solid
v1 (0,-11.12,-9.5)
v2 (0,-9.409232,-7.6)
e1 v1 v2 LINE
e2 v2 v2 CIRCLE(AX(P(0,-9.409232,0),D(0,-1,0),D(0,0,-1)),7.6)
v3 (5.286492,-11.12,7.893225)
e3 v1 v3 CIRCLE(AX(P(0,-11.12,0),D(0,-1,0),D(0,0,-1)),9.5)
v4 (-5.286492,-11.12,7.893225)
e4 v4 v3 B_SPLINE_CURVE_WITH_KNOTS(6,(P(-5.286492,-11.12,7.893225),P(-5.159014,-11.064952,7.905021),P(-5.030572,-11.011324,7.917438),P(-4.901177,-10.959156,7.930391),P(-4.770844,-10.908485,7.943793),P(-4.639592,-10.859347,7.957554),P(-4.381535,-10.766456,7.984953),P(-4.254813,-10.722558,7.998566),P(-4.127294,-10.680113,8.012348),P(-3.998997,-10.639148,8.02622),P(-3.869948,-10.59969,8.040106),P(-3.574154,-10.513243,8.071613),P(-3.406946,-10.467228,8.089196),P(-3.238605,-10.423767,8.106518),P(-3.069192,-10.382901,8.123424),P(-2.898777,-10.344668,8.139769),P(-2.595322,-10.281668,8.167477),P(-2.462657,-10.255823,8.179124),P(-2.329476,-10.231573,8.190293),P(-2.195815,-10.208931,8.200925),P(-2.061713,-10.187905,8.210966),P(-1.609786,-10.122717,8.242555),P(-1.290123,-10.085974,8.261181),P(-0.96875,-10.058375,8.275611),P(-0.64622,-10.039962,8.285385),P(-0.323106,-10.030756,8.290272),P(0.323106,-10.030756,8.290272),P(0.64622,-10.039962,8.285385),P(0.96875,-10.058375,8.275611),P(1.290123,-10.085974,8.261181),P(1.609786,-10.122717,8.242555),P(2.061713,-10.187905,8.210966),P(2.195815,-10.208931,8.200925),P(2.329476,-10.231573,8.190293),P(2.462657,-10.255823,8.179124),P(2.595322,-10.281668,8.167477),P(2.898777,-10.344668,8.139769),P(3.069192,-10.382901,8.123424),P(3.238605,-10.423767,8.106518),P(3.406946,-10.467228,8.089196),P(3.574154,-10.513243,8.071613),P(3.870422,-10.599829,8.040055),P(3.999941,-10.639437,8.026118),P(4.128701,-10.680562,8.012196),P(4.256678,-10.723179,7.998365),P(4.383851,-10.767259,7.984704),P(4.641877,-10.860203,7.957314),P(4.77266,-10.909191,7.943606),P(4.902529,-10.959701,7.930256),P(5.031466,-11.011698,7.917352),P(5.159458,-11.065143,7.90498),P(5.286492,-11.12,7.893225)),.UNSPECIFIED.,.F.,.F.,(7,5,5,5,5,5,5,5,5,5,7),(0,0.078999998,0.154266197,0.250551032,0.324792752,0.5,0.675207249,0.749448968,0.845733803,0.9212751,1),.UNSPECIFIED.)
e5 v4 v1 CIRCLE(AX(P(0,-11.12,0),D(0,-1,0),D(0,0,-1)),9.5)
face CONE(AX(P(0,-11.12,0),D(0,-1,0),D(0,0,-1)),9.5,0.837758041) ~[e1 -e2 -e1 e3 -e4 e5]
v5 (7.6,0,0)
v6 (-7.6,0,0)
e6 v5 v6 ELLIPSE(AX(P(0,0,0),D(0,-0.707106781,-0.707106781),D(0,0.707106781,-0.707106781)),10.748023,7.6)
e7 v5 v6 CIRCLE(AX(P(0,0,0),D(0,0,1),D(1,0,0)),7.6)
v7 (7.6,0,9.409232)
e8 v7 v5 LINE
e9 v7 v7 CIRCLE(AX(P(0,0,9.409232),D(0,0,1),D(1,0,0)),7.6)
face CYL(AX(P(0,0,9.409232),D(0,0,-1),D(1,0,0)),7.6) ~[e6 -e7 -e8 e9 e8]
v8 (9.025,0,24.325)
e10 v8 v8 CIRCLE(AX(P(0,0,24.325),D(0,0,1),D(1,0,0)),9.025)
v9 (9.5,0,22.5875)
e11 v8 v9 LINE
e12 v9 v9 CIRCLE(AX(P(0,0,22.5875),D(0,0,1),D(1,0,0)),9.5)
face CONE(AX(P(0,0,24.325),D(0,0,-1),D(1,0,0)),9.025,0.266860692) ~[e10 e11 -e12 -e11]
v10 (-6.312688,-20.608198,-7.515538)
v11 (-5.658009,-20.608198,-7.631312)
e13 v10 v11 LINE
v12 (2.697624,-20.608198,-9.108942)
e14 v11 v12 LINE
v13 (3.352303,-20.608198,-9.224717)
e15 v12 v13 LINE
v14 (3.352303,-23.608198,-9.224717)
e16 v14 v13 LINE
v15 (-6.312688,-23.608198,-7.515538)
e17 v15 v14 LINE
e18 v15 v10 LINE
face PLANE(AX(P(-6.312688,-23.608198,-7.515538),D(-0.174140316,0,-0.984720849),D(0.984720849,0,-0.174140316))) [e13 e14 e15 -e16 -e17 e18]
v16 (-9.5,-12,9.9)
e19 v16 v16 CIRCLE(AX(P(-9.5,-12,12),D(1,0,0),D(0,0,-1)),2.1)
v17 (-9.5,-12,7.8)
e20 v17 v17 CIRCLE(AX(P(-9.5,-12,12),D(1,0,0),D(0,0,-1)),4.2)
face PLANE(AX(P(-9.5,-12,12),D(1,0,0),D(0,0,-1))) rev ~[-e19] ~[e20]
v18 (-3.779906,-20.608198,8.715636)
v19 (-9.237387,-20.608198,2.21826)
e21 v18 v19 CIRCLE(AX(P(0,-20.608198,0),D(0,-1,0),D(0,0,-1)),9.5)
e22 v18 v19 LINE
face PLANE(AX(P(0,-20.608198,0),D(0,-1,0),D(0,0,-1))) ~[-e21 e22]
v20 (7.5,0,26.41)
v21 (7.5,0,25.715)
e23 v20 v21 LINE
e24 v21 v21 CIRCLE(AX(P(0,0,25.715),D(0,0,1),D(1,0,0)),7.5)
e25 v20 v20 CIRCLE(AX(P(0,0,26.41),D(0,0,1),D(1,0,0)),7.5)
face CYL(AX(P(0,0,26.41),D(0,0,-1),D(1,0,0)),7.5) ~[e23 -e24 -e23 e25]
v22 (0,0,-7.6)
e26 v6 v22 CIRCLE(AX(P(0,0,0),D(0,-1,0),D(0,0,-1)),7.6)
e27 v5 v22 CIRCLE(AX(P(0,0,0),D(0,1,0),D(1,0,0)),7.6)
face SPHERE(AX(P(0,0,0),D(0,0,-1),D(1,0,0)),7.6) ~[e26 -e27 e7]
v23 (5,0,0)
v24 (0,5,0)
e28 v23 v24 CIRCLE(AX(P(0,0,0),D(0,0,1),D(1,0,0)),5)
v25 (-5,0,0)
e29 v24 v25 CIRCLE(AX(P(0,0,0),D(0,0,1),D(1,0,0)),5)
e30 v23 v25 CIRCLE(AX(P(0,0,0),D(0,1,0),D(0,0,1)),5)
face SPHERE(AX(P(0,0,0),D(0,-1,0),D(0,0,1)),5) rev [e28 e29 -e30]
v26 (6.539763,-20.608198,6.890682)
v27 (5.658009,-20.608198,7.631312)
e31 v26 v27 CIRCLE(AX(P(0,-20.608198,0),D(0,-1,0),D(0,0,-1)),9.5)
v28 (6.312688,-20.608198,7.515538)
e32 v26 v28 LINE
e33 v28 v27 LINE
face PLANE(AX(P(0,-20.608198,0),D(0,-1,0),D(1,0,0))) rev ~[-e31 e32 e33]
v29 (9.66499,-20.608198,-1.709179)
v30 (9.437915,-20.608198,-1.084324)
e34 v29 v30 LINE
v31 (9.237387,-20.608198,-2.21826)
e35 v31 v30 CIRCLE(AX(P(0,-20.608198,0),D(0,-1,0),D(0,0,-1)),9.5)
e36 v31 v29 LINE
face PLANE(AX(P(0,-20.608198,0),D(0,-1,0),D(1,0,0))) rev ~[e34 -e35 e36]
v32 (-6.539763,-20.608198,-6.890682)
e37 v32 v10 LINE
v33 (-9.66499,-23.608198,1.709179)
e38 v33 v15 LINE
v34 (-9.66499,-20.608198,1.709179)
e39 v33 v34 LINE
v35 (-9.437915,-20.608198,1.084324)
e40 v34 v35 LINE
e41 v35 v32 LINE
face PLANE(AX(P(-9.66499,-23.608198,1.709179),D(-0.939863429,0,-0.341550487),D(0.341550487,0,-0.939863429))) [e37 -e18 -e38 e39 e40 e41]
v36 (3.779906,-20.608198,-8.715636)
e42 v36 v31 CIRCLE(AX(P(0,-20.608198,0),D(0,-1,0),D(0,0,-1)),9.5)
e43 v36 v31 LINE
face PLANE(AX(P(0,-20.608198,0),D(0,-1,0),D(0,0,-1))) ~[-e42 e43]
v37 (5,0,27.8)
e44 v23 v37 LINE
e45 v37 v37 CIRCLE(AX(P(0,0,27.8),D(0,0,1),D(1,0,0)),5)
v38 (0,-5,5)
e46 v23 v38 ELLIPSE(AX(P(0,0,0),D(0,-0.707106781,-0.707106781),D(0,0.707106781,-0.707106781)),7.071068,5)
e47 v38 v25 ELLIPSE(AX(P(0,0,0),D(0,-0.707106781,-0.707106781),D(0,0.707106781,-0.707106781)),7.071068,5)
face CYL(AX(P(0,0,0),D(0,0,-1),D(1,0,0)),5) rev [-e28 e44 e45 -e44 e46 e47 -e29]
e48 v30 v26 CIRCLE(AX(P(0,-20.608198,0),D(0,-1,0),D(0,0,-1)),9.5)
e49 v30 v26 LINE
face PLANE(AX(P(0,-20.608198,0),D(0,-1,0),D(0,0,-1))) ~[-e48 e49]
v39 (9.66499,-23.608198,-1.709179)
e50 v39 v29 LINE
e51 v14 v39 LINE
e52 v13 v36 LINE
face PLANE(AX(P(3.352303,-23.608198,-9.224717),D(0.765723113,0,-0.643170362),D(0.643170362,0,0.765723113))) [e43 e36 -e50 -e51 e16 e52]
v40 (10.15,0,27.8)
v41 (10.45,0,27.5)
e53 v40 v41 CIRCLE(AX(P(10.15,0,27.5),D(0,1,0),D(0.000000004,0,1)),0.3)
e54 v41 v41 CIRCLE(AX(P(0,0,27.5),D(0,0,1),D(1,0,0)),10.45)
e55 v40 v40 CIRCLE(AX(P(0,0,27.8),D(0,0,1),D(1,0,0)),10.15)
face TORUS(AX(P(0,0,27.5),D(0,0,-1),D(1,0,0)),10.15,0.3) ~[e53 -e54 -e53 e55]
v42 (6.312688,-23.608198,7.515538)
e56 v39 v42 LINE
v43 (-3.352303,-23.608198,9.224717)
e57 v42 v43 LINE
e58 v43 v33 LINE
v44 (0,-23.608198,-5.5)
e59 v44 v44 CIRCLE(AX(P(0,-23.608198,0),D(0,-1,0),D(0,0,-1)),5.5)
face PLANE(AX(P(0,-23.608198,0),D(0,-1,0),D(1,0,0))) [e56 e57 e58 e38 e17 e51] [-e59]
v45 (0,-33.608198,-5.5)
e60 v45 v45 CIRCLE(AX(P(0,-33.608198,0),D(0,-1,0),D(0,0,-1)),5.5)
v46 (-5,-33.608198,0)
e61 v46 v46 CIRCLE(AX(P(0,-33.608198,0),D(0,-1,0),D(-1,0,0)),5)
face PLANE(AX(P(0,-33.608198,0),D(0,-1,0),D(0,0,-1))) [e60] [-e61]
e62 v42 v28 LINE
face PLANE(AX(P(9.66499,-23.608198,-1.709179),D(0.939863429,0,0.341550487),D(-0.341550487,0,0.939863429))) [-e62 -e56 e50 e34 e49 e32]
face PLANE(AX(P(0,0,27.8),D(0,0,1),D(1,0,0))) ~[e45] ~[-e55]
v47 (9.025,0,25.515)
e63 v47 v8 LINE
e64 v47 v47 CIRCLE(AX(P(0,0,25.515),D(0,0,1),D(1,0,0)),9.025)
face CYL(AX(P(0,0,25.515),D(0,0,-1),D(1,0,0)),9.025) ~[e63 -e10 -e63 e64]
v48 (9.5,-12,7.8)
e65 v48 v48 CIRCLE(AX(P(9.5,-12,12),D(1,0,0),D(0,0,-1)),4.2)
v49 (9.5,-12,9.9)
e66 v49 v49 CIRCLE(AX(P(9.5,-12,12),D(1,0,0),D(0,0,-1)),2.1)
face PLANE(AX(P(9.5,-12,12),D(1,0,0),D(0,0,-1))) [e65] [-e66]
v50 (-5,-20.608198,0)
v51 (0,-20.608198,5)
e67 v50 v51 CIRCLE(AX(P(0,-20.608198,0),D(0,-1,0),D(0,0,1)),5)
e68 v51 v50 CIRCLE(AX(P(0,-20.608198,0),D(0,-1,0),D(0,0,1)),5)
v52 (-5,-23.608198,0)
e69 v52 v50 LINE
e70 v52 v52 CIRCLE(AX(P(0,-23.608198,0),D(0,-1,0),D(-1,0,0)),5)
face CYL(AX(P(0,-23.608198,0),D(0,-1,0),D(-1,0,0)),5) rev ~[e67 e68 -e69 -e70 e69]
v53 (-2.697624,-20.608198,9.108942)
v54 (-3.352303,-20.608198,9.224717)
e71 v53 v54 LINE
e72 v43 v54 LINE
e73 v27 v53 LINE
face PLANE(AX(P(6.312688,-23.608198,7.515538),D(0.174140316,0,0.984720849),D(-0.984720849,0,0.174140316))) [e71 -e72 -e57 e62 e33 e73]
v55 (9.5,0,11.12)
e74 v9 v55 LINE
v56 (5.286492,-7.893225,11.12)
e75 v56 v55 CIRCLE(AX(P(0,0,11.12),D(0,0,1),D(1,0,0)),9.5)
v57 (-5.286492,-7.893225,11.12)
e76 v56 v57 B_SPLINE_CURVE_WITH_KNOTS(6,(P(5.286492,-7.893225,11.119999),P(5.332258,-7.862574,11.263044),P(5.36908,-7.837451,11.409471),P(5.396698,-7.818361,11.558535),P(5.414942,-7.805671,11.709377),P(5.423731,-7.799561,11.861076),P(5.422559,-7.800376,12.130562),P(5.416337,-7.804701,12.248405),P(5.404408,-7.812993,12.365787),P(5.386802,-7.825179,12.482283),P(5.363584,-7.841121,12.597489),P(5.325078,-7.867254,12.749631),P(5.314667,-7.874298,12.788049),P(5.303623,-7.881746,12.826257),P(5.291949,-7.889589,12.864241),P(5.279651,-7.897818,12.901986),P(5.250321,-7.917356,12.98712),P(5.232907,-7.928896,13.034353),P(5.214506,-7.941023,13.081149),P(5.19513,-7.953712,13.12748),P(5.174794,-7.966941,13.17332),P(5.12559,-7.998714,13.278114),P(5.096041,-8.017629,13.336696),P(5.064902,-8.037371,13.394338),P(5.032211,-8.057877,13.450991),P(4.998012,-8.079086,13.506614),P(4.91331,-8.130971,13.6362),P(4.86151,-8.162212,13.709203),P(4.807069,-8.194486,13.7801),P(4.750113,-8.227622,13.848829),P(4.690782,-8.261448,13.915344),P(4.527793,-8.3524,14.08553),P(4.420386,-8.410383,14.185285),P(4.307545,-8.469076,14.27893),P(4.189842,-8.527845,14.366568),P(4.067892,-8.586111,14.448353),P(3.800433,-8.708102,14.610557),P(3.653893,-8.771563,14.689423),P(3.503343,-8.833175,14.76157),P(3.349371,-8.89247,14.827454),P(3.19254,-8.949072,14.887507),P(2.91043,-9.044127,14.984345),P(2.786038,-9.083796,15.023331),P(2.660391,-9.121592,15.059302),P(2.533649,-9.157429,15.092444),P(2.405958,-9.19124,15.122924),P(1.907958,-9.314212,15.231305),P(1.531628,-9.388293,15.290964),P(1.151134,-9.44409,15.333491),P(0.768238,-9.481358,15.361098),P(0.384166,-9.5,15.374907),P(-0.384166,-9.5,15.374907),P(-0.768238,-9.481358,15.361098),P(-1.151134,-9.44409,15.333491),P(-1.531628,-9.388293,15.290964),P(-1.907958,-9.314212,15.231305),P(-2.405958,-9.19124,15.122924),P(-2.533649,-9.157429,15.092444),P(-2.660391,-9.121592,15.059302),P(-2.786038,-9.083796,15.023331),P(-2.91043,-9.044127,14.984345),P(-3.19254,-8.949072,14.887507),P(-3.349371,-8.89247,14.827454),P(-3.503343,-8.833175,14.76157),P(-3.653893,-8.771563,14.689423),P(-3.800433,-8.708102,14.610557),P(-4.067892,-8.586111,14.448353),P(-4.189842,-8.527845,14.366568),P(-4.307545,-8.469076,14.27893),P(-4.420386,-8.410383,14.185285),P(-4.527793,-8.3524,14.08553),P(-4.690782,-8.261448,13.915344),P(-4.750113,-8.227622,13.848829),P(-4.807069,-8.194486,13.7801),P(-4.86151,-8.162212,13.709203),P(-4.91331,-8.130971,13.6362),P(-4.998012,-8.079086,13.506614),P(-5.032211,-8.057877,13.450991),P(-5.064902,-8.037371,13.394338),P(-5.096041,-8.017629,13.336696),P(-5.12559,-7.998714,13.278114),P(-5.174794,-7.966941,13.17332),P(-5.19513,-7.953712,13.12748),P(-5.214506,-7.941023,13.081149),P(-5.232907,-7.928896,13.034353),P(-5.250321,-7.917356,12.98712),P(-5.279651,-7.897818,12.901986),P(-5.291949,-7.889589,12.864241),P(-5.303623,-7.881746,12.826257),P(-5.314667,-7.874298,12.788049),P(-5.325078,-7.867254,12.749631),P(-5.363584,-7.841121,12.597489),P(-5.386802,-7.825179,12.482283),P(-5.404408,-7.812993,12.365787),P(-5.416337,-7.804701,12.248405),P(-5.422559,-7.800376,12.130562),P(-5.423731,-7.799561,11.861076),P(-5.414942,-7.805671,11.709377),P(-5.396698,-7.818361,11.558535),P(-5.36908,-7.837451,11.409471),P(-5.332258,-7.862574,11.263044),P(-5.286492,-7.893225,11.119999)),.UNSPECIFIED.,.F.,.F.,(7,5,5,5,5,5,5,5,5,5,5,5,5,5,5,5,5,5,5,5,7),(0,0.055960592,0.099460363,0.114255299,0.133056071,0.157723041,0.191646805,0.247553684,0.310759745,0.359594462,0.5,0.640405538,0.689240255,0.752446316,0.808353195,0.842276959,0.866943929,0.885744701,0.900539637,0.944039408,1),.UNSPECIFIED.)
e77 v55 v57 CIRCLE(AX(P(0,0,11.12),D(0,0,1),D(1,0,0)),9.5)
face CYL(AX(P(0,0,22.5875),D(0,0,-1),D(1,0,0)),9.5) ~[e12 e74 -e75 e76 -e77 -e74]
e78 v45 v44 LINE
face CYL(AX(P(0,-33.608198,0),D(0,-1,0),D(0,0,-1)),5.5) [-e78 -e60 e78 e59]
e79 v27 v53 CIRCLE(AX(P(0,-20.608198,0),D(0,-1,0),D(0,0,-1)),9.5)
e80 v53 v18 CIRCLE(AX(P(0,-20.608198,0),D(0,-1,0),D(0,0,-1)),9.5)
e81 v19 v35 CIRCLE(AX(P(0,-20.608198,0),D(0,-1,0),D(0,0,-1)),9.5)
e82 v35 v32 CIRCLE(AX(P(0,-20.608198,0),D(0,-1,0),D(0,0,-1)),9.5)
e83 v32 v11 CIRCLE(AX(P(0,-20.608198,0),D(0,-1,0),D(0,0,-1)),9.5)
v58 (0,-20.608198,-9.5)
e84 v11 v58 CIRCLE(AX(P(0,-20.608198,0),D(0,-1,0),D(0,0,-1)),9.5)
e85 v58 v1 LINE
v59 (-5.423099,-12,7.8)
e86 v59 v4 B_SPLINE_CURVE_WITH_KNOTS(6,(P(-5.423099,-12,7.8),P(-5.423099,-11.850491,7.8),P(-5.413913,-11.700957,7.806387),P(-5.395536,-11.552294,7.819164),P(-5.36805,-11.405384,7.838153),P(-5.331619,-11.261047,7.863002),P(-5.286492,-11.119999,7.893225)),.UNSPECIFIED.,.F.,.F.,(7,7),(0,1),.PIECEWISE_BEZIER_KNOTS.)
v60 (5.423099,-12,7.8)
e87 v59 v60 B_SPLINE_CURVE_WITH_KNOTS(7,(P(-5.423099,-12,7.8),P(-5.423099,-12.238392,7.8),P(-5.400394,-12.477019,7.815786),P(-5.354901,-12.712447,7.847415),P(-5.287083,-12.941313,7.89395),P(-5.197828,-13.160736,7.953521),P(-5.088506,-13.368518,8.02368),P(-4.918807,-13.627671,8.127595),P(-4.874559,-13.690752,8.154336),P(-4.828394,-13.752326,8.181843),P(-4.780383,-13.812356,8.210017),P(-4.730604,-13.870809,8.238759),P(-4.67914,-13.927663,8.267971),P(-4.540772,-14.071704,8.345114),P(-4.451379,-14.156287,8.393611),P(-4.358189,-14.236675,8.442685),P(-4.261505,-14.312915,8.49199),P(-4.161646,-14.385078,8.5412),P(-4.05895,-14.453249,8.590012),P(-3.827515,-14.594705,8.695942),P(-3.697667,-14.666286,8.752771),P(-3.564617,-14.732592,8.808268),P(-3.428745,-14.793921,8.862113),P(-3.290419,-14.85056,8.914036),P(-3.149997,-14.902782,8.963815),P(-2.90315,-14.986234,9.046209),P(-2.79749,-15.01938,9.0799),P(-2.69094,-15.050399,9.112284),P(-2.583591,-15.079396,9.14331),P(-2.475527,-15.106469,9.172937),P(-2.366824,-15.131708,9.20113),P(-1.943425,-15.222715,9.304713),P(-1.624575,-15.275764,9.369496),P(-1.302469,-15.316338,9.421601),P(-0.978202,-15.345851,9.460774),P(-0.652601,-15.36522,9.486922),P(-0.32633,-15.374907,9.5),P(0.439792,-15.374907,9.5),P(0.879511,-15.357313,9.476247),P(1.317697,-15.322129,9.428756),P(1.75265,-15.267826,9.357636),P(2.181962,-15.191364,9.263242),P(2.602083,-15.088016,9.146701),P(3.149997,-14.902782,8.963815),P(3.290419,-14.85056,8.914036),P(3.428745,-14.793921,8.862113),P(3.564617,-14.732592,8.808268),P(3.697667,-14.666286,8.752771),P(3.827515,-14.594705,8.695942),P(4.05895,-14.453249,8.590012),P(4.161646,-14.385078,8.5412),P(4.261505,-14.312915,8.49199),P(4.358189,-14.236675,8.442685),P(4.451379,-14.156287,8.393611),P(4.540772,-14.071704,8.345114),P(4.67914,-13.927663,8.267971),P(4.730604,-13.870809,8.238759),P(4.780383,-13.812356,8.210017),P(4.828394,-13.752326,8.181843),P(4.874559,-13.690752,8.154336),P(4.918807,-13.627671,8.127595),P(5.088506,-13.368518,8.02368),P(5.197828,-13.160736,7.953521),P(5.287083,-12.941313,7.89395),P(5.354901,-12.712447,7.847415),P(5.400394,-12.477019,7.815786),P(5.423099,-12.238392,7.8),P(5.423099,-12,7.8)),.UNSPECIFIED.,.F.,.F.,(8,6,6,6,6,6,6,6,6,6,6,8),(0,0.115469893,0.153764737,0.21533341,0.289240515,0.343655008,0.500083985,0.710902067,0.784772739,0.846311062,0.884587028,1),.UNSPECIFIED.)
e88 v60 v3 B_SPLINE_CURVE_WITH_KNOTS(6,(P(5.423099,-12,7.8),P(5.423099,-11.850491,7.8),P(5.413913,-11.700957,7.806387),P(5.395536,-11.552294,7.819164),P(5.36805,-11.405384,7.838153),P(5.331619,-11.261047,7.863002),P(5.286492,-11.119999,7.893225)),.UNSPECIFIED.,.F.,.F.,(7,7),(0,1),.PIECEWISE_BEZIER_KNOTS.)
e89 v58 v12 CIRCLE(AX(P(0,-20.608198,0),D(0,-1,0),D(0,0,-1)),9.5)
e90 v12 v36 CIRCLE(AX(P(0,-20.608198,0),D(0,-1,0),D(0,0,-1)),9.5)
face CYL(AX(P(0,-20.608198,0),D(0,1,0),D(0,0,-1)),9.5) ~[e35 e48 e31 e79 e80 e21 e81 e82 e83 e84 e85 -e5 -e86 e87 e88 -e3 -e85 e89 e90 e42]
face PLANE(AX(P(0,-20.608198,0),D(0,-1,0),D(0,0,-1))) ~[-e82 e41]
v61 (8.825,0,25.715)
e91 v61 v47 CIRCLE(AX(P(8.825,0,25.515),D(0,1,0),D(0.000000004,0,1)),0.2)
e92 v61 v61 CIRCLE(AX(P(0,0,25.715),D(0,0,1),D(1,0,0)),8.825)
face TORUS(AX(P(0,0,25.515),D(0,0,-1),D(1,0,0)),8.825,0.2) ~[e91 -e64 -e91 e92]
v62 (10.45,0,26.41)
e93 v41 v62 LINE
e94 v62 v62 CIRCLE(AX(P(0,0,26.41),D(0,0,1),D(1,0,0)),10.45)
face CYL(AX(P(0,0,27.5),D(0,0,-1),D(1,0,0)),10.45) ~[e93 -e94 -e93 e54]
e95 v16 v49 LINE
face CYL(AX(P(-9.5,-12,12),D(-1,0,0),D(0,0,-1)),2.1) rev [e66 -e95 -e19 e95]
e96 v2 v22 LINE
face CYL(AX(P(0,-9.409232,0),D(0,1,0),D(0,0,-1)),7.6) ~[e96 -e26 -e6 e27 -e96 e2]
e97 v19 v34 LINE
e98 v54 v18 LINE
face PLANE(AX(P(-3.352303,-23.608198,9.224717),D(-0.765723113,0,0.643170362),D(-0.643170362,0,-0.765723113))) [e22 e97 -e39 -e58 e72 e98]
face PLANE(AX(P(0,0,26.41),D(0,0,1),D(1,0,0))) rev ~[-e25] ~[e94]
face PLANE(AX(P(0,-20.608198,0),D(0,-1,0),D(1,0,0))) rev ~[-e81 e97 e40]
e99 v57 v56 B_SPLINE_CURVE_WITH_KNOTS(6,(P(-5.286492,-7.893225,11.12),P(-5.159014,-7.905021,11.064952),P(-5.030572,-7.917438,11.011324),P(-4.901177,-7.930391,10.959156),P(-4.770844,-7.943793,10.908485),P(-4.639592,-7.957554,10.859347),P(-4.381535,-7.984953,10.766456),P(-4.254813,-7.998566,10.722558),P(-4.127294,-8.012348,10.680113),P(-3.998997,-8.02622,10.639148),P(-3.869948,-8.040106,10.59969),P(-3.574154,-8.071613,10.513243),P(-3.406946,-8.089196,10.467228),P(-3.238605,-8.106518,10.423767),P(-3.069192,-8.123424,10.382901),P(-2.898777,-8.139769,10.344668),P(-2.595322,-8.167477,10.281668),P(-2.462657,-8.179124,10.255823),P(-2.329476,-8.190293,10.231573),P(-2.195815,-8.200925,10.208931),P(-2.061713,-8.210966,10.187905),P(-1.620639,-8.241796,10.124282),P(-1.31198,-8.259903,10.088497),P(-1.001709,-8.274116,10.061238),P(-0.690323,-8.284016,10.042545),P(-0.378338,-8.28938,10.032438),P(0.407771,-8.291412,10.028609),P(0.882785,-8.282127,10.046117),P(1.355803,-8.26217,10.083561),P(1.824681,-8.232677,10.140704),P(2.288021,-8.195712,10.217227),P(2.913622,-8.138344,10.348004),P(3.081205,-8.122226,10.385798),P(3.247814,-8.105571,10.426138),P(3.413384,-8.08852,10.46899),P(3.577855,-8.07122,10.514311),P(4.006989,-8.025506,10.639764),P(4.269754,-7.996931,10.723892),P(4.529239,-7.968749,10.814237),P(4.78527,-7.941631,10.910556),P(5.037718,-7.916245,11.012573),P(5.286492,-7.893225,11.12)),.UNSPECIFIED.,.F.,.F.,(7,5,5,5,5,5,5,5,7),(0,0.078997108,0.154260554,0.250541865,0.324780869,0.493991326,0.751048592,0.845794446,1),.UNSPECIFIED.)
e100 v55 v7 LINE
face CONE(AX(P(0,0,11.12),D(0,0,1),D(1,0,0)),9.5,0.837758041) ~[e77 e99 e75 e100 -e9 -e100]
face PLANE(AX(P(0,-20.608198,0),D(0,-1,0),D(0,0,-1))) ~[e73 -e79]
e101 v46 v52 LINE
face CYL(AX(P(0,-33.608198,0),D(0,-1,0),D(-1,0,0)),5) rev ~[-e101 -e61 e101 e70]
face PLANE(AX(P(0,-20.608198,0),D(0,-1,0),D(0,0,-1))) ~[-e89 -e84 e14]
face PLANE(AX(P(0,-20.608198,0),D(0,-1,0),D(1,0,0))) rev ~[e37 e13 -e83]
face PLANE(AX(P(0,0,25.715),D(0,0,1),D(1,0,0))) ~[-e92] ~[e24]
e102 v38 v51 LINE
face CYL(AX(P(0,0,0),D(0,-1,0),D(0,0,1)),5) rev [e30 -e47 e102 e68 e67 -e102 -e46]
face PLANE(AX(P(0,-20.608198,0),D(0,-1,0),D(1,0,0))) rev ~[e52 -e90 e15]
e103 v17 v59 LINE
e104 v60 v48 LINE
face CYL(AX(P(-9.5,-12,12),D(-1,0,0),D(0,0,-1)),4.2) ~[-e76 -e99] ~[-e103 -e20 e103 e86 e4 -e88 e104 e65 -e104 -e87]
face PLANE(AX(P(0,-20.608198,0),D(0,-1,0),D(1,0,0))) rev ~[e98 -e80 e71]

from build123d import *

# Parameters (mm, degrees)
SKETCH_3_R               = 5
CUT_EXTRUDE_1_DEPTH      = 27.8
EXTRUDE_1_DEPTH          = 9.5
EXTRUDE_1_DEPTH_BACK     = 9.5
SKETCH_5_R               = 4.2
CUT_EXTRUDE_2_DEPTH      = 9.5
CUT_EXTRUDE_2_DEPTH_BACK = 9.5
SKETCH_6_R               = 2.1
EXTRUDE_START            = 3
SKETCH_7_R               = 5
EXTRUDE_2_DEPTH          = 3
EXTRUDE_START_2          = 10
SKETCH_8_R               = 5.5
SKETCH_8_R_2             = 5
EXTRUDE_3_DEPTH          = 10


with BuildPart() as part:
    # 草图1 → 旋转1 (revolve)
    with BuildSketch(Plane(origin=(0, 0, 0), x_dir=(0, 0, -1), z_dir=(1, 0, 0))):
        with BuildLine():
            Line((-27.8, 0), (-27.8, 10.15))
            ThreePointArc((-27.8, 10.15), (-27.712132034, 10.362132034), (-27.5, 10.45))
            Line((-27.5, 10.45), (-26.41, 10.45))
            Line((-26.41, 10.45), (-26.41, 7.5))
            Line((-26.41, 7.5), (-25.715, 7.5))
            Line((-25.715, 7.5), (-25.715, 8.825))
            ThreePointArc((-25.715, 8.825), (-25.656421356, 8.966421356), (-25.515, 9.025))
            Line((-25.515, 9.025), (-24.325, 9.025))
            Line((-24.325, 9.025), (-22.5875, 9.5))
            Line((-22.5875, 9.5), (-11.12, 9.5))
            Line((-11.12, 9.5), (-9.409232316, 7.6))
            Line((-9.409232316, 7.6), (0, 7.6))
            ThreePointArc((0, 7.6), (5.374011537, 5.374011537), (7.6, 0))
            Line((7.6, 0), (-27.8, 0))
        make_face()
    revolve(axis=Axis((0, 0, -7.6), (0, 0, 1)))

    # 草图2 → 旋转2 (revolve)
    with BuildSketch(Plane(origin=(0, 0, 0), x_dir=(0, 0, -1), z_dir=(1, 0, 0))):
        Polygon((-9.5, -20.608198383), (-9.5, -11.12), (-7.6, -9.409232316), (-7.6, 0), (0, 0), (0, -20.608198383), align=None)
    revolve(axis=Axis((0, 0, 0), (0, -1, 0)))

    # 草图3 → 切除-拉伸1 (cut)
    with BuildSketch(Plane.XY):
        Circle(SKETCH_3_R)
    extrude(amount=CUT_EXTRUDE_1_DEPTH, mode=Mode.SUBTRACT)

    # 草图4 → 切除-旋转1 (revolve, cut)
    with BuildSketch(Plane(origin=(0, 0, 0), x_dir=(0, 0, -1), z_dir=(1, 0, 0))):
        with BuildLine():
            Line((5, 0), (5, -27.8))
            Line((5, -27.8), (0, -27.8))
            Line((0, -27.8), (0, 5))
            ThreePointArc((0, 5), (3.535533906, 3.535533906), (5, 0))
        make_face()
    revolve(axis=Axis((0, -27.8, 0), (0, 1, 0)), mode=Mode.SUBTRACT)

    # 草图5 → 凸台-拉伸1 (add, two sides: drawn at the far end of the back side and taken through both)
    with BuildSketch(Plane(origin=(0, 0, 0), x_dir=(0, 0, -1), z_dir=(1, 0, 0)).offset(-EXTRUDE_1_DEPTH_BACK)):
        with Locations((-12, -12)):
            Circle(SKETCH_5_R)
    extrude(amount=EXTRUDE_1_DEPTH + EXTRUDE_1_DEPTH_BACK)

    # 草图6 → 切除-拉伸2 (cut, two sides: drawn at the far end of the back side and taken through both)
    with BuildSketch(Plane(origin=(0, 0, 0), x_dir=(0, 0, -1), z_dir=(1, 0, 0)).offset(-CUT_EXTRUDE_2_DEPTH_BACK)):
        with Locations((-12, -12)):
            Circle(SKETCH_6_R)
    extrude(amount=CUT_EXTRUDE_2_DEPTH + CUT_EXTRUDE_2_DEPTH_BACK, mode=Mode.SUBTRACT)

    # 草图7 → 凸台-拉伸2 (add)
    with BuildSketch(Plane.XZ.offset(20.608198383).offset(EXTRUDE_START)):
        Polygon((-6.312687887, -7.51553757), (3.352302515, -9.224716862), (9.664990403, -1.709179291), (6.312687887, 7.51553757), (-3.352302515, 9.224716862), (-9.664990403, 1.709179291), align=None)
        Circle(SKETCH_7_R, mode=Mode.SUBTRACT)
    extrude(amount=-EXTRUDE_2_DEPTH)

    # 草图8 → 凸台-拉伸3 (add)
    with BuildSketch(Plane.XZ.offset(23.608198383).offset(EXTRUDE_START_2)):
        Circle(SKETCH_8_R)
        Circle(SKETCH_8_R_2, mode=Mode.SUBTRACT)
    extrude(amount=-EXTRUDE_3_DEPTH)


solid = part.part
